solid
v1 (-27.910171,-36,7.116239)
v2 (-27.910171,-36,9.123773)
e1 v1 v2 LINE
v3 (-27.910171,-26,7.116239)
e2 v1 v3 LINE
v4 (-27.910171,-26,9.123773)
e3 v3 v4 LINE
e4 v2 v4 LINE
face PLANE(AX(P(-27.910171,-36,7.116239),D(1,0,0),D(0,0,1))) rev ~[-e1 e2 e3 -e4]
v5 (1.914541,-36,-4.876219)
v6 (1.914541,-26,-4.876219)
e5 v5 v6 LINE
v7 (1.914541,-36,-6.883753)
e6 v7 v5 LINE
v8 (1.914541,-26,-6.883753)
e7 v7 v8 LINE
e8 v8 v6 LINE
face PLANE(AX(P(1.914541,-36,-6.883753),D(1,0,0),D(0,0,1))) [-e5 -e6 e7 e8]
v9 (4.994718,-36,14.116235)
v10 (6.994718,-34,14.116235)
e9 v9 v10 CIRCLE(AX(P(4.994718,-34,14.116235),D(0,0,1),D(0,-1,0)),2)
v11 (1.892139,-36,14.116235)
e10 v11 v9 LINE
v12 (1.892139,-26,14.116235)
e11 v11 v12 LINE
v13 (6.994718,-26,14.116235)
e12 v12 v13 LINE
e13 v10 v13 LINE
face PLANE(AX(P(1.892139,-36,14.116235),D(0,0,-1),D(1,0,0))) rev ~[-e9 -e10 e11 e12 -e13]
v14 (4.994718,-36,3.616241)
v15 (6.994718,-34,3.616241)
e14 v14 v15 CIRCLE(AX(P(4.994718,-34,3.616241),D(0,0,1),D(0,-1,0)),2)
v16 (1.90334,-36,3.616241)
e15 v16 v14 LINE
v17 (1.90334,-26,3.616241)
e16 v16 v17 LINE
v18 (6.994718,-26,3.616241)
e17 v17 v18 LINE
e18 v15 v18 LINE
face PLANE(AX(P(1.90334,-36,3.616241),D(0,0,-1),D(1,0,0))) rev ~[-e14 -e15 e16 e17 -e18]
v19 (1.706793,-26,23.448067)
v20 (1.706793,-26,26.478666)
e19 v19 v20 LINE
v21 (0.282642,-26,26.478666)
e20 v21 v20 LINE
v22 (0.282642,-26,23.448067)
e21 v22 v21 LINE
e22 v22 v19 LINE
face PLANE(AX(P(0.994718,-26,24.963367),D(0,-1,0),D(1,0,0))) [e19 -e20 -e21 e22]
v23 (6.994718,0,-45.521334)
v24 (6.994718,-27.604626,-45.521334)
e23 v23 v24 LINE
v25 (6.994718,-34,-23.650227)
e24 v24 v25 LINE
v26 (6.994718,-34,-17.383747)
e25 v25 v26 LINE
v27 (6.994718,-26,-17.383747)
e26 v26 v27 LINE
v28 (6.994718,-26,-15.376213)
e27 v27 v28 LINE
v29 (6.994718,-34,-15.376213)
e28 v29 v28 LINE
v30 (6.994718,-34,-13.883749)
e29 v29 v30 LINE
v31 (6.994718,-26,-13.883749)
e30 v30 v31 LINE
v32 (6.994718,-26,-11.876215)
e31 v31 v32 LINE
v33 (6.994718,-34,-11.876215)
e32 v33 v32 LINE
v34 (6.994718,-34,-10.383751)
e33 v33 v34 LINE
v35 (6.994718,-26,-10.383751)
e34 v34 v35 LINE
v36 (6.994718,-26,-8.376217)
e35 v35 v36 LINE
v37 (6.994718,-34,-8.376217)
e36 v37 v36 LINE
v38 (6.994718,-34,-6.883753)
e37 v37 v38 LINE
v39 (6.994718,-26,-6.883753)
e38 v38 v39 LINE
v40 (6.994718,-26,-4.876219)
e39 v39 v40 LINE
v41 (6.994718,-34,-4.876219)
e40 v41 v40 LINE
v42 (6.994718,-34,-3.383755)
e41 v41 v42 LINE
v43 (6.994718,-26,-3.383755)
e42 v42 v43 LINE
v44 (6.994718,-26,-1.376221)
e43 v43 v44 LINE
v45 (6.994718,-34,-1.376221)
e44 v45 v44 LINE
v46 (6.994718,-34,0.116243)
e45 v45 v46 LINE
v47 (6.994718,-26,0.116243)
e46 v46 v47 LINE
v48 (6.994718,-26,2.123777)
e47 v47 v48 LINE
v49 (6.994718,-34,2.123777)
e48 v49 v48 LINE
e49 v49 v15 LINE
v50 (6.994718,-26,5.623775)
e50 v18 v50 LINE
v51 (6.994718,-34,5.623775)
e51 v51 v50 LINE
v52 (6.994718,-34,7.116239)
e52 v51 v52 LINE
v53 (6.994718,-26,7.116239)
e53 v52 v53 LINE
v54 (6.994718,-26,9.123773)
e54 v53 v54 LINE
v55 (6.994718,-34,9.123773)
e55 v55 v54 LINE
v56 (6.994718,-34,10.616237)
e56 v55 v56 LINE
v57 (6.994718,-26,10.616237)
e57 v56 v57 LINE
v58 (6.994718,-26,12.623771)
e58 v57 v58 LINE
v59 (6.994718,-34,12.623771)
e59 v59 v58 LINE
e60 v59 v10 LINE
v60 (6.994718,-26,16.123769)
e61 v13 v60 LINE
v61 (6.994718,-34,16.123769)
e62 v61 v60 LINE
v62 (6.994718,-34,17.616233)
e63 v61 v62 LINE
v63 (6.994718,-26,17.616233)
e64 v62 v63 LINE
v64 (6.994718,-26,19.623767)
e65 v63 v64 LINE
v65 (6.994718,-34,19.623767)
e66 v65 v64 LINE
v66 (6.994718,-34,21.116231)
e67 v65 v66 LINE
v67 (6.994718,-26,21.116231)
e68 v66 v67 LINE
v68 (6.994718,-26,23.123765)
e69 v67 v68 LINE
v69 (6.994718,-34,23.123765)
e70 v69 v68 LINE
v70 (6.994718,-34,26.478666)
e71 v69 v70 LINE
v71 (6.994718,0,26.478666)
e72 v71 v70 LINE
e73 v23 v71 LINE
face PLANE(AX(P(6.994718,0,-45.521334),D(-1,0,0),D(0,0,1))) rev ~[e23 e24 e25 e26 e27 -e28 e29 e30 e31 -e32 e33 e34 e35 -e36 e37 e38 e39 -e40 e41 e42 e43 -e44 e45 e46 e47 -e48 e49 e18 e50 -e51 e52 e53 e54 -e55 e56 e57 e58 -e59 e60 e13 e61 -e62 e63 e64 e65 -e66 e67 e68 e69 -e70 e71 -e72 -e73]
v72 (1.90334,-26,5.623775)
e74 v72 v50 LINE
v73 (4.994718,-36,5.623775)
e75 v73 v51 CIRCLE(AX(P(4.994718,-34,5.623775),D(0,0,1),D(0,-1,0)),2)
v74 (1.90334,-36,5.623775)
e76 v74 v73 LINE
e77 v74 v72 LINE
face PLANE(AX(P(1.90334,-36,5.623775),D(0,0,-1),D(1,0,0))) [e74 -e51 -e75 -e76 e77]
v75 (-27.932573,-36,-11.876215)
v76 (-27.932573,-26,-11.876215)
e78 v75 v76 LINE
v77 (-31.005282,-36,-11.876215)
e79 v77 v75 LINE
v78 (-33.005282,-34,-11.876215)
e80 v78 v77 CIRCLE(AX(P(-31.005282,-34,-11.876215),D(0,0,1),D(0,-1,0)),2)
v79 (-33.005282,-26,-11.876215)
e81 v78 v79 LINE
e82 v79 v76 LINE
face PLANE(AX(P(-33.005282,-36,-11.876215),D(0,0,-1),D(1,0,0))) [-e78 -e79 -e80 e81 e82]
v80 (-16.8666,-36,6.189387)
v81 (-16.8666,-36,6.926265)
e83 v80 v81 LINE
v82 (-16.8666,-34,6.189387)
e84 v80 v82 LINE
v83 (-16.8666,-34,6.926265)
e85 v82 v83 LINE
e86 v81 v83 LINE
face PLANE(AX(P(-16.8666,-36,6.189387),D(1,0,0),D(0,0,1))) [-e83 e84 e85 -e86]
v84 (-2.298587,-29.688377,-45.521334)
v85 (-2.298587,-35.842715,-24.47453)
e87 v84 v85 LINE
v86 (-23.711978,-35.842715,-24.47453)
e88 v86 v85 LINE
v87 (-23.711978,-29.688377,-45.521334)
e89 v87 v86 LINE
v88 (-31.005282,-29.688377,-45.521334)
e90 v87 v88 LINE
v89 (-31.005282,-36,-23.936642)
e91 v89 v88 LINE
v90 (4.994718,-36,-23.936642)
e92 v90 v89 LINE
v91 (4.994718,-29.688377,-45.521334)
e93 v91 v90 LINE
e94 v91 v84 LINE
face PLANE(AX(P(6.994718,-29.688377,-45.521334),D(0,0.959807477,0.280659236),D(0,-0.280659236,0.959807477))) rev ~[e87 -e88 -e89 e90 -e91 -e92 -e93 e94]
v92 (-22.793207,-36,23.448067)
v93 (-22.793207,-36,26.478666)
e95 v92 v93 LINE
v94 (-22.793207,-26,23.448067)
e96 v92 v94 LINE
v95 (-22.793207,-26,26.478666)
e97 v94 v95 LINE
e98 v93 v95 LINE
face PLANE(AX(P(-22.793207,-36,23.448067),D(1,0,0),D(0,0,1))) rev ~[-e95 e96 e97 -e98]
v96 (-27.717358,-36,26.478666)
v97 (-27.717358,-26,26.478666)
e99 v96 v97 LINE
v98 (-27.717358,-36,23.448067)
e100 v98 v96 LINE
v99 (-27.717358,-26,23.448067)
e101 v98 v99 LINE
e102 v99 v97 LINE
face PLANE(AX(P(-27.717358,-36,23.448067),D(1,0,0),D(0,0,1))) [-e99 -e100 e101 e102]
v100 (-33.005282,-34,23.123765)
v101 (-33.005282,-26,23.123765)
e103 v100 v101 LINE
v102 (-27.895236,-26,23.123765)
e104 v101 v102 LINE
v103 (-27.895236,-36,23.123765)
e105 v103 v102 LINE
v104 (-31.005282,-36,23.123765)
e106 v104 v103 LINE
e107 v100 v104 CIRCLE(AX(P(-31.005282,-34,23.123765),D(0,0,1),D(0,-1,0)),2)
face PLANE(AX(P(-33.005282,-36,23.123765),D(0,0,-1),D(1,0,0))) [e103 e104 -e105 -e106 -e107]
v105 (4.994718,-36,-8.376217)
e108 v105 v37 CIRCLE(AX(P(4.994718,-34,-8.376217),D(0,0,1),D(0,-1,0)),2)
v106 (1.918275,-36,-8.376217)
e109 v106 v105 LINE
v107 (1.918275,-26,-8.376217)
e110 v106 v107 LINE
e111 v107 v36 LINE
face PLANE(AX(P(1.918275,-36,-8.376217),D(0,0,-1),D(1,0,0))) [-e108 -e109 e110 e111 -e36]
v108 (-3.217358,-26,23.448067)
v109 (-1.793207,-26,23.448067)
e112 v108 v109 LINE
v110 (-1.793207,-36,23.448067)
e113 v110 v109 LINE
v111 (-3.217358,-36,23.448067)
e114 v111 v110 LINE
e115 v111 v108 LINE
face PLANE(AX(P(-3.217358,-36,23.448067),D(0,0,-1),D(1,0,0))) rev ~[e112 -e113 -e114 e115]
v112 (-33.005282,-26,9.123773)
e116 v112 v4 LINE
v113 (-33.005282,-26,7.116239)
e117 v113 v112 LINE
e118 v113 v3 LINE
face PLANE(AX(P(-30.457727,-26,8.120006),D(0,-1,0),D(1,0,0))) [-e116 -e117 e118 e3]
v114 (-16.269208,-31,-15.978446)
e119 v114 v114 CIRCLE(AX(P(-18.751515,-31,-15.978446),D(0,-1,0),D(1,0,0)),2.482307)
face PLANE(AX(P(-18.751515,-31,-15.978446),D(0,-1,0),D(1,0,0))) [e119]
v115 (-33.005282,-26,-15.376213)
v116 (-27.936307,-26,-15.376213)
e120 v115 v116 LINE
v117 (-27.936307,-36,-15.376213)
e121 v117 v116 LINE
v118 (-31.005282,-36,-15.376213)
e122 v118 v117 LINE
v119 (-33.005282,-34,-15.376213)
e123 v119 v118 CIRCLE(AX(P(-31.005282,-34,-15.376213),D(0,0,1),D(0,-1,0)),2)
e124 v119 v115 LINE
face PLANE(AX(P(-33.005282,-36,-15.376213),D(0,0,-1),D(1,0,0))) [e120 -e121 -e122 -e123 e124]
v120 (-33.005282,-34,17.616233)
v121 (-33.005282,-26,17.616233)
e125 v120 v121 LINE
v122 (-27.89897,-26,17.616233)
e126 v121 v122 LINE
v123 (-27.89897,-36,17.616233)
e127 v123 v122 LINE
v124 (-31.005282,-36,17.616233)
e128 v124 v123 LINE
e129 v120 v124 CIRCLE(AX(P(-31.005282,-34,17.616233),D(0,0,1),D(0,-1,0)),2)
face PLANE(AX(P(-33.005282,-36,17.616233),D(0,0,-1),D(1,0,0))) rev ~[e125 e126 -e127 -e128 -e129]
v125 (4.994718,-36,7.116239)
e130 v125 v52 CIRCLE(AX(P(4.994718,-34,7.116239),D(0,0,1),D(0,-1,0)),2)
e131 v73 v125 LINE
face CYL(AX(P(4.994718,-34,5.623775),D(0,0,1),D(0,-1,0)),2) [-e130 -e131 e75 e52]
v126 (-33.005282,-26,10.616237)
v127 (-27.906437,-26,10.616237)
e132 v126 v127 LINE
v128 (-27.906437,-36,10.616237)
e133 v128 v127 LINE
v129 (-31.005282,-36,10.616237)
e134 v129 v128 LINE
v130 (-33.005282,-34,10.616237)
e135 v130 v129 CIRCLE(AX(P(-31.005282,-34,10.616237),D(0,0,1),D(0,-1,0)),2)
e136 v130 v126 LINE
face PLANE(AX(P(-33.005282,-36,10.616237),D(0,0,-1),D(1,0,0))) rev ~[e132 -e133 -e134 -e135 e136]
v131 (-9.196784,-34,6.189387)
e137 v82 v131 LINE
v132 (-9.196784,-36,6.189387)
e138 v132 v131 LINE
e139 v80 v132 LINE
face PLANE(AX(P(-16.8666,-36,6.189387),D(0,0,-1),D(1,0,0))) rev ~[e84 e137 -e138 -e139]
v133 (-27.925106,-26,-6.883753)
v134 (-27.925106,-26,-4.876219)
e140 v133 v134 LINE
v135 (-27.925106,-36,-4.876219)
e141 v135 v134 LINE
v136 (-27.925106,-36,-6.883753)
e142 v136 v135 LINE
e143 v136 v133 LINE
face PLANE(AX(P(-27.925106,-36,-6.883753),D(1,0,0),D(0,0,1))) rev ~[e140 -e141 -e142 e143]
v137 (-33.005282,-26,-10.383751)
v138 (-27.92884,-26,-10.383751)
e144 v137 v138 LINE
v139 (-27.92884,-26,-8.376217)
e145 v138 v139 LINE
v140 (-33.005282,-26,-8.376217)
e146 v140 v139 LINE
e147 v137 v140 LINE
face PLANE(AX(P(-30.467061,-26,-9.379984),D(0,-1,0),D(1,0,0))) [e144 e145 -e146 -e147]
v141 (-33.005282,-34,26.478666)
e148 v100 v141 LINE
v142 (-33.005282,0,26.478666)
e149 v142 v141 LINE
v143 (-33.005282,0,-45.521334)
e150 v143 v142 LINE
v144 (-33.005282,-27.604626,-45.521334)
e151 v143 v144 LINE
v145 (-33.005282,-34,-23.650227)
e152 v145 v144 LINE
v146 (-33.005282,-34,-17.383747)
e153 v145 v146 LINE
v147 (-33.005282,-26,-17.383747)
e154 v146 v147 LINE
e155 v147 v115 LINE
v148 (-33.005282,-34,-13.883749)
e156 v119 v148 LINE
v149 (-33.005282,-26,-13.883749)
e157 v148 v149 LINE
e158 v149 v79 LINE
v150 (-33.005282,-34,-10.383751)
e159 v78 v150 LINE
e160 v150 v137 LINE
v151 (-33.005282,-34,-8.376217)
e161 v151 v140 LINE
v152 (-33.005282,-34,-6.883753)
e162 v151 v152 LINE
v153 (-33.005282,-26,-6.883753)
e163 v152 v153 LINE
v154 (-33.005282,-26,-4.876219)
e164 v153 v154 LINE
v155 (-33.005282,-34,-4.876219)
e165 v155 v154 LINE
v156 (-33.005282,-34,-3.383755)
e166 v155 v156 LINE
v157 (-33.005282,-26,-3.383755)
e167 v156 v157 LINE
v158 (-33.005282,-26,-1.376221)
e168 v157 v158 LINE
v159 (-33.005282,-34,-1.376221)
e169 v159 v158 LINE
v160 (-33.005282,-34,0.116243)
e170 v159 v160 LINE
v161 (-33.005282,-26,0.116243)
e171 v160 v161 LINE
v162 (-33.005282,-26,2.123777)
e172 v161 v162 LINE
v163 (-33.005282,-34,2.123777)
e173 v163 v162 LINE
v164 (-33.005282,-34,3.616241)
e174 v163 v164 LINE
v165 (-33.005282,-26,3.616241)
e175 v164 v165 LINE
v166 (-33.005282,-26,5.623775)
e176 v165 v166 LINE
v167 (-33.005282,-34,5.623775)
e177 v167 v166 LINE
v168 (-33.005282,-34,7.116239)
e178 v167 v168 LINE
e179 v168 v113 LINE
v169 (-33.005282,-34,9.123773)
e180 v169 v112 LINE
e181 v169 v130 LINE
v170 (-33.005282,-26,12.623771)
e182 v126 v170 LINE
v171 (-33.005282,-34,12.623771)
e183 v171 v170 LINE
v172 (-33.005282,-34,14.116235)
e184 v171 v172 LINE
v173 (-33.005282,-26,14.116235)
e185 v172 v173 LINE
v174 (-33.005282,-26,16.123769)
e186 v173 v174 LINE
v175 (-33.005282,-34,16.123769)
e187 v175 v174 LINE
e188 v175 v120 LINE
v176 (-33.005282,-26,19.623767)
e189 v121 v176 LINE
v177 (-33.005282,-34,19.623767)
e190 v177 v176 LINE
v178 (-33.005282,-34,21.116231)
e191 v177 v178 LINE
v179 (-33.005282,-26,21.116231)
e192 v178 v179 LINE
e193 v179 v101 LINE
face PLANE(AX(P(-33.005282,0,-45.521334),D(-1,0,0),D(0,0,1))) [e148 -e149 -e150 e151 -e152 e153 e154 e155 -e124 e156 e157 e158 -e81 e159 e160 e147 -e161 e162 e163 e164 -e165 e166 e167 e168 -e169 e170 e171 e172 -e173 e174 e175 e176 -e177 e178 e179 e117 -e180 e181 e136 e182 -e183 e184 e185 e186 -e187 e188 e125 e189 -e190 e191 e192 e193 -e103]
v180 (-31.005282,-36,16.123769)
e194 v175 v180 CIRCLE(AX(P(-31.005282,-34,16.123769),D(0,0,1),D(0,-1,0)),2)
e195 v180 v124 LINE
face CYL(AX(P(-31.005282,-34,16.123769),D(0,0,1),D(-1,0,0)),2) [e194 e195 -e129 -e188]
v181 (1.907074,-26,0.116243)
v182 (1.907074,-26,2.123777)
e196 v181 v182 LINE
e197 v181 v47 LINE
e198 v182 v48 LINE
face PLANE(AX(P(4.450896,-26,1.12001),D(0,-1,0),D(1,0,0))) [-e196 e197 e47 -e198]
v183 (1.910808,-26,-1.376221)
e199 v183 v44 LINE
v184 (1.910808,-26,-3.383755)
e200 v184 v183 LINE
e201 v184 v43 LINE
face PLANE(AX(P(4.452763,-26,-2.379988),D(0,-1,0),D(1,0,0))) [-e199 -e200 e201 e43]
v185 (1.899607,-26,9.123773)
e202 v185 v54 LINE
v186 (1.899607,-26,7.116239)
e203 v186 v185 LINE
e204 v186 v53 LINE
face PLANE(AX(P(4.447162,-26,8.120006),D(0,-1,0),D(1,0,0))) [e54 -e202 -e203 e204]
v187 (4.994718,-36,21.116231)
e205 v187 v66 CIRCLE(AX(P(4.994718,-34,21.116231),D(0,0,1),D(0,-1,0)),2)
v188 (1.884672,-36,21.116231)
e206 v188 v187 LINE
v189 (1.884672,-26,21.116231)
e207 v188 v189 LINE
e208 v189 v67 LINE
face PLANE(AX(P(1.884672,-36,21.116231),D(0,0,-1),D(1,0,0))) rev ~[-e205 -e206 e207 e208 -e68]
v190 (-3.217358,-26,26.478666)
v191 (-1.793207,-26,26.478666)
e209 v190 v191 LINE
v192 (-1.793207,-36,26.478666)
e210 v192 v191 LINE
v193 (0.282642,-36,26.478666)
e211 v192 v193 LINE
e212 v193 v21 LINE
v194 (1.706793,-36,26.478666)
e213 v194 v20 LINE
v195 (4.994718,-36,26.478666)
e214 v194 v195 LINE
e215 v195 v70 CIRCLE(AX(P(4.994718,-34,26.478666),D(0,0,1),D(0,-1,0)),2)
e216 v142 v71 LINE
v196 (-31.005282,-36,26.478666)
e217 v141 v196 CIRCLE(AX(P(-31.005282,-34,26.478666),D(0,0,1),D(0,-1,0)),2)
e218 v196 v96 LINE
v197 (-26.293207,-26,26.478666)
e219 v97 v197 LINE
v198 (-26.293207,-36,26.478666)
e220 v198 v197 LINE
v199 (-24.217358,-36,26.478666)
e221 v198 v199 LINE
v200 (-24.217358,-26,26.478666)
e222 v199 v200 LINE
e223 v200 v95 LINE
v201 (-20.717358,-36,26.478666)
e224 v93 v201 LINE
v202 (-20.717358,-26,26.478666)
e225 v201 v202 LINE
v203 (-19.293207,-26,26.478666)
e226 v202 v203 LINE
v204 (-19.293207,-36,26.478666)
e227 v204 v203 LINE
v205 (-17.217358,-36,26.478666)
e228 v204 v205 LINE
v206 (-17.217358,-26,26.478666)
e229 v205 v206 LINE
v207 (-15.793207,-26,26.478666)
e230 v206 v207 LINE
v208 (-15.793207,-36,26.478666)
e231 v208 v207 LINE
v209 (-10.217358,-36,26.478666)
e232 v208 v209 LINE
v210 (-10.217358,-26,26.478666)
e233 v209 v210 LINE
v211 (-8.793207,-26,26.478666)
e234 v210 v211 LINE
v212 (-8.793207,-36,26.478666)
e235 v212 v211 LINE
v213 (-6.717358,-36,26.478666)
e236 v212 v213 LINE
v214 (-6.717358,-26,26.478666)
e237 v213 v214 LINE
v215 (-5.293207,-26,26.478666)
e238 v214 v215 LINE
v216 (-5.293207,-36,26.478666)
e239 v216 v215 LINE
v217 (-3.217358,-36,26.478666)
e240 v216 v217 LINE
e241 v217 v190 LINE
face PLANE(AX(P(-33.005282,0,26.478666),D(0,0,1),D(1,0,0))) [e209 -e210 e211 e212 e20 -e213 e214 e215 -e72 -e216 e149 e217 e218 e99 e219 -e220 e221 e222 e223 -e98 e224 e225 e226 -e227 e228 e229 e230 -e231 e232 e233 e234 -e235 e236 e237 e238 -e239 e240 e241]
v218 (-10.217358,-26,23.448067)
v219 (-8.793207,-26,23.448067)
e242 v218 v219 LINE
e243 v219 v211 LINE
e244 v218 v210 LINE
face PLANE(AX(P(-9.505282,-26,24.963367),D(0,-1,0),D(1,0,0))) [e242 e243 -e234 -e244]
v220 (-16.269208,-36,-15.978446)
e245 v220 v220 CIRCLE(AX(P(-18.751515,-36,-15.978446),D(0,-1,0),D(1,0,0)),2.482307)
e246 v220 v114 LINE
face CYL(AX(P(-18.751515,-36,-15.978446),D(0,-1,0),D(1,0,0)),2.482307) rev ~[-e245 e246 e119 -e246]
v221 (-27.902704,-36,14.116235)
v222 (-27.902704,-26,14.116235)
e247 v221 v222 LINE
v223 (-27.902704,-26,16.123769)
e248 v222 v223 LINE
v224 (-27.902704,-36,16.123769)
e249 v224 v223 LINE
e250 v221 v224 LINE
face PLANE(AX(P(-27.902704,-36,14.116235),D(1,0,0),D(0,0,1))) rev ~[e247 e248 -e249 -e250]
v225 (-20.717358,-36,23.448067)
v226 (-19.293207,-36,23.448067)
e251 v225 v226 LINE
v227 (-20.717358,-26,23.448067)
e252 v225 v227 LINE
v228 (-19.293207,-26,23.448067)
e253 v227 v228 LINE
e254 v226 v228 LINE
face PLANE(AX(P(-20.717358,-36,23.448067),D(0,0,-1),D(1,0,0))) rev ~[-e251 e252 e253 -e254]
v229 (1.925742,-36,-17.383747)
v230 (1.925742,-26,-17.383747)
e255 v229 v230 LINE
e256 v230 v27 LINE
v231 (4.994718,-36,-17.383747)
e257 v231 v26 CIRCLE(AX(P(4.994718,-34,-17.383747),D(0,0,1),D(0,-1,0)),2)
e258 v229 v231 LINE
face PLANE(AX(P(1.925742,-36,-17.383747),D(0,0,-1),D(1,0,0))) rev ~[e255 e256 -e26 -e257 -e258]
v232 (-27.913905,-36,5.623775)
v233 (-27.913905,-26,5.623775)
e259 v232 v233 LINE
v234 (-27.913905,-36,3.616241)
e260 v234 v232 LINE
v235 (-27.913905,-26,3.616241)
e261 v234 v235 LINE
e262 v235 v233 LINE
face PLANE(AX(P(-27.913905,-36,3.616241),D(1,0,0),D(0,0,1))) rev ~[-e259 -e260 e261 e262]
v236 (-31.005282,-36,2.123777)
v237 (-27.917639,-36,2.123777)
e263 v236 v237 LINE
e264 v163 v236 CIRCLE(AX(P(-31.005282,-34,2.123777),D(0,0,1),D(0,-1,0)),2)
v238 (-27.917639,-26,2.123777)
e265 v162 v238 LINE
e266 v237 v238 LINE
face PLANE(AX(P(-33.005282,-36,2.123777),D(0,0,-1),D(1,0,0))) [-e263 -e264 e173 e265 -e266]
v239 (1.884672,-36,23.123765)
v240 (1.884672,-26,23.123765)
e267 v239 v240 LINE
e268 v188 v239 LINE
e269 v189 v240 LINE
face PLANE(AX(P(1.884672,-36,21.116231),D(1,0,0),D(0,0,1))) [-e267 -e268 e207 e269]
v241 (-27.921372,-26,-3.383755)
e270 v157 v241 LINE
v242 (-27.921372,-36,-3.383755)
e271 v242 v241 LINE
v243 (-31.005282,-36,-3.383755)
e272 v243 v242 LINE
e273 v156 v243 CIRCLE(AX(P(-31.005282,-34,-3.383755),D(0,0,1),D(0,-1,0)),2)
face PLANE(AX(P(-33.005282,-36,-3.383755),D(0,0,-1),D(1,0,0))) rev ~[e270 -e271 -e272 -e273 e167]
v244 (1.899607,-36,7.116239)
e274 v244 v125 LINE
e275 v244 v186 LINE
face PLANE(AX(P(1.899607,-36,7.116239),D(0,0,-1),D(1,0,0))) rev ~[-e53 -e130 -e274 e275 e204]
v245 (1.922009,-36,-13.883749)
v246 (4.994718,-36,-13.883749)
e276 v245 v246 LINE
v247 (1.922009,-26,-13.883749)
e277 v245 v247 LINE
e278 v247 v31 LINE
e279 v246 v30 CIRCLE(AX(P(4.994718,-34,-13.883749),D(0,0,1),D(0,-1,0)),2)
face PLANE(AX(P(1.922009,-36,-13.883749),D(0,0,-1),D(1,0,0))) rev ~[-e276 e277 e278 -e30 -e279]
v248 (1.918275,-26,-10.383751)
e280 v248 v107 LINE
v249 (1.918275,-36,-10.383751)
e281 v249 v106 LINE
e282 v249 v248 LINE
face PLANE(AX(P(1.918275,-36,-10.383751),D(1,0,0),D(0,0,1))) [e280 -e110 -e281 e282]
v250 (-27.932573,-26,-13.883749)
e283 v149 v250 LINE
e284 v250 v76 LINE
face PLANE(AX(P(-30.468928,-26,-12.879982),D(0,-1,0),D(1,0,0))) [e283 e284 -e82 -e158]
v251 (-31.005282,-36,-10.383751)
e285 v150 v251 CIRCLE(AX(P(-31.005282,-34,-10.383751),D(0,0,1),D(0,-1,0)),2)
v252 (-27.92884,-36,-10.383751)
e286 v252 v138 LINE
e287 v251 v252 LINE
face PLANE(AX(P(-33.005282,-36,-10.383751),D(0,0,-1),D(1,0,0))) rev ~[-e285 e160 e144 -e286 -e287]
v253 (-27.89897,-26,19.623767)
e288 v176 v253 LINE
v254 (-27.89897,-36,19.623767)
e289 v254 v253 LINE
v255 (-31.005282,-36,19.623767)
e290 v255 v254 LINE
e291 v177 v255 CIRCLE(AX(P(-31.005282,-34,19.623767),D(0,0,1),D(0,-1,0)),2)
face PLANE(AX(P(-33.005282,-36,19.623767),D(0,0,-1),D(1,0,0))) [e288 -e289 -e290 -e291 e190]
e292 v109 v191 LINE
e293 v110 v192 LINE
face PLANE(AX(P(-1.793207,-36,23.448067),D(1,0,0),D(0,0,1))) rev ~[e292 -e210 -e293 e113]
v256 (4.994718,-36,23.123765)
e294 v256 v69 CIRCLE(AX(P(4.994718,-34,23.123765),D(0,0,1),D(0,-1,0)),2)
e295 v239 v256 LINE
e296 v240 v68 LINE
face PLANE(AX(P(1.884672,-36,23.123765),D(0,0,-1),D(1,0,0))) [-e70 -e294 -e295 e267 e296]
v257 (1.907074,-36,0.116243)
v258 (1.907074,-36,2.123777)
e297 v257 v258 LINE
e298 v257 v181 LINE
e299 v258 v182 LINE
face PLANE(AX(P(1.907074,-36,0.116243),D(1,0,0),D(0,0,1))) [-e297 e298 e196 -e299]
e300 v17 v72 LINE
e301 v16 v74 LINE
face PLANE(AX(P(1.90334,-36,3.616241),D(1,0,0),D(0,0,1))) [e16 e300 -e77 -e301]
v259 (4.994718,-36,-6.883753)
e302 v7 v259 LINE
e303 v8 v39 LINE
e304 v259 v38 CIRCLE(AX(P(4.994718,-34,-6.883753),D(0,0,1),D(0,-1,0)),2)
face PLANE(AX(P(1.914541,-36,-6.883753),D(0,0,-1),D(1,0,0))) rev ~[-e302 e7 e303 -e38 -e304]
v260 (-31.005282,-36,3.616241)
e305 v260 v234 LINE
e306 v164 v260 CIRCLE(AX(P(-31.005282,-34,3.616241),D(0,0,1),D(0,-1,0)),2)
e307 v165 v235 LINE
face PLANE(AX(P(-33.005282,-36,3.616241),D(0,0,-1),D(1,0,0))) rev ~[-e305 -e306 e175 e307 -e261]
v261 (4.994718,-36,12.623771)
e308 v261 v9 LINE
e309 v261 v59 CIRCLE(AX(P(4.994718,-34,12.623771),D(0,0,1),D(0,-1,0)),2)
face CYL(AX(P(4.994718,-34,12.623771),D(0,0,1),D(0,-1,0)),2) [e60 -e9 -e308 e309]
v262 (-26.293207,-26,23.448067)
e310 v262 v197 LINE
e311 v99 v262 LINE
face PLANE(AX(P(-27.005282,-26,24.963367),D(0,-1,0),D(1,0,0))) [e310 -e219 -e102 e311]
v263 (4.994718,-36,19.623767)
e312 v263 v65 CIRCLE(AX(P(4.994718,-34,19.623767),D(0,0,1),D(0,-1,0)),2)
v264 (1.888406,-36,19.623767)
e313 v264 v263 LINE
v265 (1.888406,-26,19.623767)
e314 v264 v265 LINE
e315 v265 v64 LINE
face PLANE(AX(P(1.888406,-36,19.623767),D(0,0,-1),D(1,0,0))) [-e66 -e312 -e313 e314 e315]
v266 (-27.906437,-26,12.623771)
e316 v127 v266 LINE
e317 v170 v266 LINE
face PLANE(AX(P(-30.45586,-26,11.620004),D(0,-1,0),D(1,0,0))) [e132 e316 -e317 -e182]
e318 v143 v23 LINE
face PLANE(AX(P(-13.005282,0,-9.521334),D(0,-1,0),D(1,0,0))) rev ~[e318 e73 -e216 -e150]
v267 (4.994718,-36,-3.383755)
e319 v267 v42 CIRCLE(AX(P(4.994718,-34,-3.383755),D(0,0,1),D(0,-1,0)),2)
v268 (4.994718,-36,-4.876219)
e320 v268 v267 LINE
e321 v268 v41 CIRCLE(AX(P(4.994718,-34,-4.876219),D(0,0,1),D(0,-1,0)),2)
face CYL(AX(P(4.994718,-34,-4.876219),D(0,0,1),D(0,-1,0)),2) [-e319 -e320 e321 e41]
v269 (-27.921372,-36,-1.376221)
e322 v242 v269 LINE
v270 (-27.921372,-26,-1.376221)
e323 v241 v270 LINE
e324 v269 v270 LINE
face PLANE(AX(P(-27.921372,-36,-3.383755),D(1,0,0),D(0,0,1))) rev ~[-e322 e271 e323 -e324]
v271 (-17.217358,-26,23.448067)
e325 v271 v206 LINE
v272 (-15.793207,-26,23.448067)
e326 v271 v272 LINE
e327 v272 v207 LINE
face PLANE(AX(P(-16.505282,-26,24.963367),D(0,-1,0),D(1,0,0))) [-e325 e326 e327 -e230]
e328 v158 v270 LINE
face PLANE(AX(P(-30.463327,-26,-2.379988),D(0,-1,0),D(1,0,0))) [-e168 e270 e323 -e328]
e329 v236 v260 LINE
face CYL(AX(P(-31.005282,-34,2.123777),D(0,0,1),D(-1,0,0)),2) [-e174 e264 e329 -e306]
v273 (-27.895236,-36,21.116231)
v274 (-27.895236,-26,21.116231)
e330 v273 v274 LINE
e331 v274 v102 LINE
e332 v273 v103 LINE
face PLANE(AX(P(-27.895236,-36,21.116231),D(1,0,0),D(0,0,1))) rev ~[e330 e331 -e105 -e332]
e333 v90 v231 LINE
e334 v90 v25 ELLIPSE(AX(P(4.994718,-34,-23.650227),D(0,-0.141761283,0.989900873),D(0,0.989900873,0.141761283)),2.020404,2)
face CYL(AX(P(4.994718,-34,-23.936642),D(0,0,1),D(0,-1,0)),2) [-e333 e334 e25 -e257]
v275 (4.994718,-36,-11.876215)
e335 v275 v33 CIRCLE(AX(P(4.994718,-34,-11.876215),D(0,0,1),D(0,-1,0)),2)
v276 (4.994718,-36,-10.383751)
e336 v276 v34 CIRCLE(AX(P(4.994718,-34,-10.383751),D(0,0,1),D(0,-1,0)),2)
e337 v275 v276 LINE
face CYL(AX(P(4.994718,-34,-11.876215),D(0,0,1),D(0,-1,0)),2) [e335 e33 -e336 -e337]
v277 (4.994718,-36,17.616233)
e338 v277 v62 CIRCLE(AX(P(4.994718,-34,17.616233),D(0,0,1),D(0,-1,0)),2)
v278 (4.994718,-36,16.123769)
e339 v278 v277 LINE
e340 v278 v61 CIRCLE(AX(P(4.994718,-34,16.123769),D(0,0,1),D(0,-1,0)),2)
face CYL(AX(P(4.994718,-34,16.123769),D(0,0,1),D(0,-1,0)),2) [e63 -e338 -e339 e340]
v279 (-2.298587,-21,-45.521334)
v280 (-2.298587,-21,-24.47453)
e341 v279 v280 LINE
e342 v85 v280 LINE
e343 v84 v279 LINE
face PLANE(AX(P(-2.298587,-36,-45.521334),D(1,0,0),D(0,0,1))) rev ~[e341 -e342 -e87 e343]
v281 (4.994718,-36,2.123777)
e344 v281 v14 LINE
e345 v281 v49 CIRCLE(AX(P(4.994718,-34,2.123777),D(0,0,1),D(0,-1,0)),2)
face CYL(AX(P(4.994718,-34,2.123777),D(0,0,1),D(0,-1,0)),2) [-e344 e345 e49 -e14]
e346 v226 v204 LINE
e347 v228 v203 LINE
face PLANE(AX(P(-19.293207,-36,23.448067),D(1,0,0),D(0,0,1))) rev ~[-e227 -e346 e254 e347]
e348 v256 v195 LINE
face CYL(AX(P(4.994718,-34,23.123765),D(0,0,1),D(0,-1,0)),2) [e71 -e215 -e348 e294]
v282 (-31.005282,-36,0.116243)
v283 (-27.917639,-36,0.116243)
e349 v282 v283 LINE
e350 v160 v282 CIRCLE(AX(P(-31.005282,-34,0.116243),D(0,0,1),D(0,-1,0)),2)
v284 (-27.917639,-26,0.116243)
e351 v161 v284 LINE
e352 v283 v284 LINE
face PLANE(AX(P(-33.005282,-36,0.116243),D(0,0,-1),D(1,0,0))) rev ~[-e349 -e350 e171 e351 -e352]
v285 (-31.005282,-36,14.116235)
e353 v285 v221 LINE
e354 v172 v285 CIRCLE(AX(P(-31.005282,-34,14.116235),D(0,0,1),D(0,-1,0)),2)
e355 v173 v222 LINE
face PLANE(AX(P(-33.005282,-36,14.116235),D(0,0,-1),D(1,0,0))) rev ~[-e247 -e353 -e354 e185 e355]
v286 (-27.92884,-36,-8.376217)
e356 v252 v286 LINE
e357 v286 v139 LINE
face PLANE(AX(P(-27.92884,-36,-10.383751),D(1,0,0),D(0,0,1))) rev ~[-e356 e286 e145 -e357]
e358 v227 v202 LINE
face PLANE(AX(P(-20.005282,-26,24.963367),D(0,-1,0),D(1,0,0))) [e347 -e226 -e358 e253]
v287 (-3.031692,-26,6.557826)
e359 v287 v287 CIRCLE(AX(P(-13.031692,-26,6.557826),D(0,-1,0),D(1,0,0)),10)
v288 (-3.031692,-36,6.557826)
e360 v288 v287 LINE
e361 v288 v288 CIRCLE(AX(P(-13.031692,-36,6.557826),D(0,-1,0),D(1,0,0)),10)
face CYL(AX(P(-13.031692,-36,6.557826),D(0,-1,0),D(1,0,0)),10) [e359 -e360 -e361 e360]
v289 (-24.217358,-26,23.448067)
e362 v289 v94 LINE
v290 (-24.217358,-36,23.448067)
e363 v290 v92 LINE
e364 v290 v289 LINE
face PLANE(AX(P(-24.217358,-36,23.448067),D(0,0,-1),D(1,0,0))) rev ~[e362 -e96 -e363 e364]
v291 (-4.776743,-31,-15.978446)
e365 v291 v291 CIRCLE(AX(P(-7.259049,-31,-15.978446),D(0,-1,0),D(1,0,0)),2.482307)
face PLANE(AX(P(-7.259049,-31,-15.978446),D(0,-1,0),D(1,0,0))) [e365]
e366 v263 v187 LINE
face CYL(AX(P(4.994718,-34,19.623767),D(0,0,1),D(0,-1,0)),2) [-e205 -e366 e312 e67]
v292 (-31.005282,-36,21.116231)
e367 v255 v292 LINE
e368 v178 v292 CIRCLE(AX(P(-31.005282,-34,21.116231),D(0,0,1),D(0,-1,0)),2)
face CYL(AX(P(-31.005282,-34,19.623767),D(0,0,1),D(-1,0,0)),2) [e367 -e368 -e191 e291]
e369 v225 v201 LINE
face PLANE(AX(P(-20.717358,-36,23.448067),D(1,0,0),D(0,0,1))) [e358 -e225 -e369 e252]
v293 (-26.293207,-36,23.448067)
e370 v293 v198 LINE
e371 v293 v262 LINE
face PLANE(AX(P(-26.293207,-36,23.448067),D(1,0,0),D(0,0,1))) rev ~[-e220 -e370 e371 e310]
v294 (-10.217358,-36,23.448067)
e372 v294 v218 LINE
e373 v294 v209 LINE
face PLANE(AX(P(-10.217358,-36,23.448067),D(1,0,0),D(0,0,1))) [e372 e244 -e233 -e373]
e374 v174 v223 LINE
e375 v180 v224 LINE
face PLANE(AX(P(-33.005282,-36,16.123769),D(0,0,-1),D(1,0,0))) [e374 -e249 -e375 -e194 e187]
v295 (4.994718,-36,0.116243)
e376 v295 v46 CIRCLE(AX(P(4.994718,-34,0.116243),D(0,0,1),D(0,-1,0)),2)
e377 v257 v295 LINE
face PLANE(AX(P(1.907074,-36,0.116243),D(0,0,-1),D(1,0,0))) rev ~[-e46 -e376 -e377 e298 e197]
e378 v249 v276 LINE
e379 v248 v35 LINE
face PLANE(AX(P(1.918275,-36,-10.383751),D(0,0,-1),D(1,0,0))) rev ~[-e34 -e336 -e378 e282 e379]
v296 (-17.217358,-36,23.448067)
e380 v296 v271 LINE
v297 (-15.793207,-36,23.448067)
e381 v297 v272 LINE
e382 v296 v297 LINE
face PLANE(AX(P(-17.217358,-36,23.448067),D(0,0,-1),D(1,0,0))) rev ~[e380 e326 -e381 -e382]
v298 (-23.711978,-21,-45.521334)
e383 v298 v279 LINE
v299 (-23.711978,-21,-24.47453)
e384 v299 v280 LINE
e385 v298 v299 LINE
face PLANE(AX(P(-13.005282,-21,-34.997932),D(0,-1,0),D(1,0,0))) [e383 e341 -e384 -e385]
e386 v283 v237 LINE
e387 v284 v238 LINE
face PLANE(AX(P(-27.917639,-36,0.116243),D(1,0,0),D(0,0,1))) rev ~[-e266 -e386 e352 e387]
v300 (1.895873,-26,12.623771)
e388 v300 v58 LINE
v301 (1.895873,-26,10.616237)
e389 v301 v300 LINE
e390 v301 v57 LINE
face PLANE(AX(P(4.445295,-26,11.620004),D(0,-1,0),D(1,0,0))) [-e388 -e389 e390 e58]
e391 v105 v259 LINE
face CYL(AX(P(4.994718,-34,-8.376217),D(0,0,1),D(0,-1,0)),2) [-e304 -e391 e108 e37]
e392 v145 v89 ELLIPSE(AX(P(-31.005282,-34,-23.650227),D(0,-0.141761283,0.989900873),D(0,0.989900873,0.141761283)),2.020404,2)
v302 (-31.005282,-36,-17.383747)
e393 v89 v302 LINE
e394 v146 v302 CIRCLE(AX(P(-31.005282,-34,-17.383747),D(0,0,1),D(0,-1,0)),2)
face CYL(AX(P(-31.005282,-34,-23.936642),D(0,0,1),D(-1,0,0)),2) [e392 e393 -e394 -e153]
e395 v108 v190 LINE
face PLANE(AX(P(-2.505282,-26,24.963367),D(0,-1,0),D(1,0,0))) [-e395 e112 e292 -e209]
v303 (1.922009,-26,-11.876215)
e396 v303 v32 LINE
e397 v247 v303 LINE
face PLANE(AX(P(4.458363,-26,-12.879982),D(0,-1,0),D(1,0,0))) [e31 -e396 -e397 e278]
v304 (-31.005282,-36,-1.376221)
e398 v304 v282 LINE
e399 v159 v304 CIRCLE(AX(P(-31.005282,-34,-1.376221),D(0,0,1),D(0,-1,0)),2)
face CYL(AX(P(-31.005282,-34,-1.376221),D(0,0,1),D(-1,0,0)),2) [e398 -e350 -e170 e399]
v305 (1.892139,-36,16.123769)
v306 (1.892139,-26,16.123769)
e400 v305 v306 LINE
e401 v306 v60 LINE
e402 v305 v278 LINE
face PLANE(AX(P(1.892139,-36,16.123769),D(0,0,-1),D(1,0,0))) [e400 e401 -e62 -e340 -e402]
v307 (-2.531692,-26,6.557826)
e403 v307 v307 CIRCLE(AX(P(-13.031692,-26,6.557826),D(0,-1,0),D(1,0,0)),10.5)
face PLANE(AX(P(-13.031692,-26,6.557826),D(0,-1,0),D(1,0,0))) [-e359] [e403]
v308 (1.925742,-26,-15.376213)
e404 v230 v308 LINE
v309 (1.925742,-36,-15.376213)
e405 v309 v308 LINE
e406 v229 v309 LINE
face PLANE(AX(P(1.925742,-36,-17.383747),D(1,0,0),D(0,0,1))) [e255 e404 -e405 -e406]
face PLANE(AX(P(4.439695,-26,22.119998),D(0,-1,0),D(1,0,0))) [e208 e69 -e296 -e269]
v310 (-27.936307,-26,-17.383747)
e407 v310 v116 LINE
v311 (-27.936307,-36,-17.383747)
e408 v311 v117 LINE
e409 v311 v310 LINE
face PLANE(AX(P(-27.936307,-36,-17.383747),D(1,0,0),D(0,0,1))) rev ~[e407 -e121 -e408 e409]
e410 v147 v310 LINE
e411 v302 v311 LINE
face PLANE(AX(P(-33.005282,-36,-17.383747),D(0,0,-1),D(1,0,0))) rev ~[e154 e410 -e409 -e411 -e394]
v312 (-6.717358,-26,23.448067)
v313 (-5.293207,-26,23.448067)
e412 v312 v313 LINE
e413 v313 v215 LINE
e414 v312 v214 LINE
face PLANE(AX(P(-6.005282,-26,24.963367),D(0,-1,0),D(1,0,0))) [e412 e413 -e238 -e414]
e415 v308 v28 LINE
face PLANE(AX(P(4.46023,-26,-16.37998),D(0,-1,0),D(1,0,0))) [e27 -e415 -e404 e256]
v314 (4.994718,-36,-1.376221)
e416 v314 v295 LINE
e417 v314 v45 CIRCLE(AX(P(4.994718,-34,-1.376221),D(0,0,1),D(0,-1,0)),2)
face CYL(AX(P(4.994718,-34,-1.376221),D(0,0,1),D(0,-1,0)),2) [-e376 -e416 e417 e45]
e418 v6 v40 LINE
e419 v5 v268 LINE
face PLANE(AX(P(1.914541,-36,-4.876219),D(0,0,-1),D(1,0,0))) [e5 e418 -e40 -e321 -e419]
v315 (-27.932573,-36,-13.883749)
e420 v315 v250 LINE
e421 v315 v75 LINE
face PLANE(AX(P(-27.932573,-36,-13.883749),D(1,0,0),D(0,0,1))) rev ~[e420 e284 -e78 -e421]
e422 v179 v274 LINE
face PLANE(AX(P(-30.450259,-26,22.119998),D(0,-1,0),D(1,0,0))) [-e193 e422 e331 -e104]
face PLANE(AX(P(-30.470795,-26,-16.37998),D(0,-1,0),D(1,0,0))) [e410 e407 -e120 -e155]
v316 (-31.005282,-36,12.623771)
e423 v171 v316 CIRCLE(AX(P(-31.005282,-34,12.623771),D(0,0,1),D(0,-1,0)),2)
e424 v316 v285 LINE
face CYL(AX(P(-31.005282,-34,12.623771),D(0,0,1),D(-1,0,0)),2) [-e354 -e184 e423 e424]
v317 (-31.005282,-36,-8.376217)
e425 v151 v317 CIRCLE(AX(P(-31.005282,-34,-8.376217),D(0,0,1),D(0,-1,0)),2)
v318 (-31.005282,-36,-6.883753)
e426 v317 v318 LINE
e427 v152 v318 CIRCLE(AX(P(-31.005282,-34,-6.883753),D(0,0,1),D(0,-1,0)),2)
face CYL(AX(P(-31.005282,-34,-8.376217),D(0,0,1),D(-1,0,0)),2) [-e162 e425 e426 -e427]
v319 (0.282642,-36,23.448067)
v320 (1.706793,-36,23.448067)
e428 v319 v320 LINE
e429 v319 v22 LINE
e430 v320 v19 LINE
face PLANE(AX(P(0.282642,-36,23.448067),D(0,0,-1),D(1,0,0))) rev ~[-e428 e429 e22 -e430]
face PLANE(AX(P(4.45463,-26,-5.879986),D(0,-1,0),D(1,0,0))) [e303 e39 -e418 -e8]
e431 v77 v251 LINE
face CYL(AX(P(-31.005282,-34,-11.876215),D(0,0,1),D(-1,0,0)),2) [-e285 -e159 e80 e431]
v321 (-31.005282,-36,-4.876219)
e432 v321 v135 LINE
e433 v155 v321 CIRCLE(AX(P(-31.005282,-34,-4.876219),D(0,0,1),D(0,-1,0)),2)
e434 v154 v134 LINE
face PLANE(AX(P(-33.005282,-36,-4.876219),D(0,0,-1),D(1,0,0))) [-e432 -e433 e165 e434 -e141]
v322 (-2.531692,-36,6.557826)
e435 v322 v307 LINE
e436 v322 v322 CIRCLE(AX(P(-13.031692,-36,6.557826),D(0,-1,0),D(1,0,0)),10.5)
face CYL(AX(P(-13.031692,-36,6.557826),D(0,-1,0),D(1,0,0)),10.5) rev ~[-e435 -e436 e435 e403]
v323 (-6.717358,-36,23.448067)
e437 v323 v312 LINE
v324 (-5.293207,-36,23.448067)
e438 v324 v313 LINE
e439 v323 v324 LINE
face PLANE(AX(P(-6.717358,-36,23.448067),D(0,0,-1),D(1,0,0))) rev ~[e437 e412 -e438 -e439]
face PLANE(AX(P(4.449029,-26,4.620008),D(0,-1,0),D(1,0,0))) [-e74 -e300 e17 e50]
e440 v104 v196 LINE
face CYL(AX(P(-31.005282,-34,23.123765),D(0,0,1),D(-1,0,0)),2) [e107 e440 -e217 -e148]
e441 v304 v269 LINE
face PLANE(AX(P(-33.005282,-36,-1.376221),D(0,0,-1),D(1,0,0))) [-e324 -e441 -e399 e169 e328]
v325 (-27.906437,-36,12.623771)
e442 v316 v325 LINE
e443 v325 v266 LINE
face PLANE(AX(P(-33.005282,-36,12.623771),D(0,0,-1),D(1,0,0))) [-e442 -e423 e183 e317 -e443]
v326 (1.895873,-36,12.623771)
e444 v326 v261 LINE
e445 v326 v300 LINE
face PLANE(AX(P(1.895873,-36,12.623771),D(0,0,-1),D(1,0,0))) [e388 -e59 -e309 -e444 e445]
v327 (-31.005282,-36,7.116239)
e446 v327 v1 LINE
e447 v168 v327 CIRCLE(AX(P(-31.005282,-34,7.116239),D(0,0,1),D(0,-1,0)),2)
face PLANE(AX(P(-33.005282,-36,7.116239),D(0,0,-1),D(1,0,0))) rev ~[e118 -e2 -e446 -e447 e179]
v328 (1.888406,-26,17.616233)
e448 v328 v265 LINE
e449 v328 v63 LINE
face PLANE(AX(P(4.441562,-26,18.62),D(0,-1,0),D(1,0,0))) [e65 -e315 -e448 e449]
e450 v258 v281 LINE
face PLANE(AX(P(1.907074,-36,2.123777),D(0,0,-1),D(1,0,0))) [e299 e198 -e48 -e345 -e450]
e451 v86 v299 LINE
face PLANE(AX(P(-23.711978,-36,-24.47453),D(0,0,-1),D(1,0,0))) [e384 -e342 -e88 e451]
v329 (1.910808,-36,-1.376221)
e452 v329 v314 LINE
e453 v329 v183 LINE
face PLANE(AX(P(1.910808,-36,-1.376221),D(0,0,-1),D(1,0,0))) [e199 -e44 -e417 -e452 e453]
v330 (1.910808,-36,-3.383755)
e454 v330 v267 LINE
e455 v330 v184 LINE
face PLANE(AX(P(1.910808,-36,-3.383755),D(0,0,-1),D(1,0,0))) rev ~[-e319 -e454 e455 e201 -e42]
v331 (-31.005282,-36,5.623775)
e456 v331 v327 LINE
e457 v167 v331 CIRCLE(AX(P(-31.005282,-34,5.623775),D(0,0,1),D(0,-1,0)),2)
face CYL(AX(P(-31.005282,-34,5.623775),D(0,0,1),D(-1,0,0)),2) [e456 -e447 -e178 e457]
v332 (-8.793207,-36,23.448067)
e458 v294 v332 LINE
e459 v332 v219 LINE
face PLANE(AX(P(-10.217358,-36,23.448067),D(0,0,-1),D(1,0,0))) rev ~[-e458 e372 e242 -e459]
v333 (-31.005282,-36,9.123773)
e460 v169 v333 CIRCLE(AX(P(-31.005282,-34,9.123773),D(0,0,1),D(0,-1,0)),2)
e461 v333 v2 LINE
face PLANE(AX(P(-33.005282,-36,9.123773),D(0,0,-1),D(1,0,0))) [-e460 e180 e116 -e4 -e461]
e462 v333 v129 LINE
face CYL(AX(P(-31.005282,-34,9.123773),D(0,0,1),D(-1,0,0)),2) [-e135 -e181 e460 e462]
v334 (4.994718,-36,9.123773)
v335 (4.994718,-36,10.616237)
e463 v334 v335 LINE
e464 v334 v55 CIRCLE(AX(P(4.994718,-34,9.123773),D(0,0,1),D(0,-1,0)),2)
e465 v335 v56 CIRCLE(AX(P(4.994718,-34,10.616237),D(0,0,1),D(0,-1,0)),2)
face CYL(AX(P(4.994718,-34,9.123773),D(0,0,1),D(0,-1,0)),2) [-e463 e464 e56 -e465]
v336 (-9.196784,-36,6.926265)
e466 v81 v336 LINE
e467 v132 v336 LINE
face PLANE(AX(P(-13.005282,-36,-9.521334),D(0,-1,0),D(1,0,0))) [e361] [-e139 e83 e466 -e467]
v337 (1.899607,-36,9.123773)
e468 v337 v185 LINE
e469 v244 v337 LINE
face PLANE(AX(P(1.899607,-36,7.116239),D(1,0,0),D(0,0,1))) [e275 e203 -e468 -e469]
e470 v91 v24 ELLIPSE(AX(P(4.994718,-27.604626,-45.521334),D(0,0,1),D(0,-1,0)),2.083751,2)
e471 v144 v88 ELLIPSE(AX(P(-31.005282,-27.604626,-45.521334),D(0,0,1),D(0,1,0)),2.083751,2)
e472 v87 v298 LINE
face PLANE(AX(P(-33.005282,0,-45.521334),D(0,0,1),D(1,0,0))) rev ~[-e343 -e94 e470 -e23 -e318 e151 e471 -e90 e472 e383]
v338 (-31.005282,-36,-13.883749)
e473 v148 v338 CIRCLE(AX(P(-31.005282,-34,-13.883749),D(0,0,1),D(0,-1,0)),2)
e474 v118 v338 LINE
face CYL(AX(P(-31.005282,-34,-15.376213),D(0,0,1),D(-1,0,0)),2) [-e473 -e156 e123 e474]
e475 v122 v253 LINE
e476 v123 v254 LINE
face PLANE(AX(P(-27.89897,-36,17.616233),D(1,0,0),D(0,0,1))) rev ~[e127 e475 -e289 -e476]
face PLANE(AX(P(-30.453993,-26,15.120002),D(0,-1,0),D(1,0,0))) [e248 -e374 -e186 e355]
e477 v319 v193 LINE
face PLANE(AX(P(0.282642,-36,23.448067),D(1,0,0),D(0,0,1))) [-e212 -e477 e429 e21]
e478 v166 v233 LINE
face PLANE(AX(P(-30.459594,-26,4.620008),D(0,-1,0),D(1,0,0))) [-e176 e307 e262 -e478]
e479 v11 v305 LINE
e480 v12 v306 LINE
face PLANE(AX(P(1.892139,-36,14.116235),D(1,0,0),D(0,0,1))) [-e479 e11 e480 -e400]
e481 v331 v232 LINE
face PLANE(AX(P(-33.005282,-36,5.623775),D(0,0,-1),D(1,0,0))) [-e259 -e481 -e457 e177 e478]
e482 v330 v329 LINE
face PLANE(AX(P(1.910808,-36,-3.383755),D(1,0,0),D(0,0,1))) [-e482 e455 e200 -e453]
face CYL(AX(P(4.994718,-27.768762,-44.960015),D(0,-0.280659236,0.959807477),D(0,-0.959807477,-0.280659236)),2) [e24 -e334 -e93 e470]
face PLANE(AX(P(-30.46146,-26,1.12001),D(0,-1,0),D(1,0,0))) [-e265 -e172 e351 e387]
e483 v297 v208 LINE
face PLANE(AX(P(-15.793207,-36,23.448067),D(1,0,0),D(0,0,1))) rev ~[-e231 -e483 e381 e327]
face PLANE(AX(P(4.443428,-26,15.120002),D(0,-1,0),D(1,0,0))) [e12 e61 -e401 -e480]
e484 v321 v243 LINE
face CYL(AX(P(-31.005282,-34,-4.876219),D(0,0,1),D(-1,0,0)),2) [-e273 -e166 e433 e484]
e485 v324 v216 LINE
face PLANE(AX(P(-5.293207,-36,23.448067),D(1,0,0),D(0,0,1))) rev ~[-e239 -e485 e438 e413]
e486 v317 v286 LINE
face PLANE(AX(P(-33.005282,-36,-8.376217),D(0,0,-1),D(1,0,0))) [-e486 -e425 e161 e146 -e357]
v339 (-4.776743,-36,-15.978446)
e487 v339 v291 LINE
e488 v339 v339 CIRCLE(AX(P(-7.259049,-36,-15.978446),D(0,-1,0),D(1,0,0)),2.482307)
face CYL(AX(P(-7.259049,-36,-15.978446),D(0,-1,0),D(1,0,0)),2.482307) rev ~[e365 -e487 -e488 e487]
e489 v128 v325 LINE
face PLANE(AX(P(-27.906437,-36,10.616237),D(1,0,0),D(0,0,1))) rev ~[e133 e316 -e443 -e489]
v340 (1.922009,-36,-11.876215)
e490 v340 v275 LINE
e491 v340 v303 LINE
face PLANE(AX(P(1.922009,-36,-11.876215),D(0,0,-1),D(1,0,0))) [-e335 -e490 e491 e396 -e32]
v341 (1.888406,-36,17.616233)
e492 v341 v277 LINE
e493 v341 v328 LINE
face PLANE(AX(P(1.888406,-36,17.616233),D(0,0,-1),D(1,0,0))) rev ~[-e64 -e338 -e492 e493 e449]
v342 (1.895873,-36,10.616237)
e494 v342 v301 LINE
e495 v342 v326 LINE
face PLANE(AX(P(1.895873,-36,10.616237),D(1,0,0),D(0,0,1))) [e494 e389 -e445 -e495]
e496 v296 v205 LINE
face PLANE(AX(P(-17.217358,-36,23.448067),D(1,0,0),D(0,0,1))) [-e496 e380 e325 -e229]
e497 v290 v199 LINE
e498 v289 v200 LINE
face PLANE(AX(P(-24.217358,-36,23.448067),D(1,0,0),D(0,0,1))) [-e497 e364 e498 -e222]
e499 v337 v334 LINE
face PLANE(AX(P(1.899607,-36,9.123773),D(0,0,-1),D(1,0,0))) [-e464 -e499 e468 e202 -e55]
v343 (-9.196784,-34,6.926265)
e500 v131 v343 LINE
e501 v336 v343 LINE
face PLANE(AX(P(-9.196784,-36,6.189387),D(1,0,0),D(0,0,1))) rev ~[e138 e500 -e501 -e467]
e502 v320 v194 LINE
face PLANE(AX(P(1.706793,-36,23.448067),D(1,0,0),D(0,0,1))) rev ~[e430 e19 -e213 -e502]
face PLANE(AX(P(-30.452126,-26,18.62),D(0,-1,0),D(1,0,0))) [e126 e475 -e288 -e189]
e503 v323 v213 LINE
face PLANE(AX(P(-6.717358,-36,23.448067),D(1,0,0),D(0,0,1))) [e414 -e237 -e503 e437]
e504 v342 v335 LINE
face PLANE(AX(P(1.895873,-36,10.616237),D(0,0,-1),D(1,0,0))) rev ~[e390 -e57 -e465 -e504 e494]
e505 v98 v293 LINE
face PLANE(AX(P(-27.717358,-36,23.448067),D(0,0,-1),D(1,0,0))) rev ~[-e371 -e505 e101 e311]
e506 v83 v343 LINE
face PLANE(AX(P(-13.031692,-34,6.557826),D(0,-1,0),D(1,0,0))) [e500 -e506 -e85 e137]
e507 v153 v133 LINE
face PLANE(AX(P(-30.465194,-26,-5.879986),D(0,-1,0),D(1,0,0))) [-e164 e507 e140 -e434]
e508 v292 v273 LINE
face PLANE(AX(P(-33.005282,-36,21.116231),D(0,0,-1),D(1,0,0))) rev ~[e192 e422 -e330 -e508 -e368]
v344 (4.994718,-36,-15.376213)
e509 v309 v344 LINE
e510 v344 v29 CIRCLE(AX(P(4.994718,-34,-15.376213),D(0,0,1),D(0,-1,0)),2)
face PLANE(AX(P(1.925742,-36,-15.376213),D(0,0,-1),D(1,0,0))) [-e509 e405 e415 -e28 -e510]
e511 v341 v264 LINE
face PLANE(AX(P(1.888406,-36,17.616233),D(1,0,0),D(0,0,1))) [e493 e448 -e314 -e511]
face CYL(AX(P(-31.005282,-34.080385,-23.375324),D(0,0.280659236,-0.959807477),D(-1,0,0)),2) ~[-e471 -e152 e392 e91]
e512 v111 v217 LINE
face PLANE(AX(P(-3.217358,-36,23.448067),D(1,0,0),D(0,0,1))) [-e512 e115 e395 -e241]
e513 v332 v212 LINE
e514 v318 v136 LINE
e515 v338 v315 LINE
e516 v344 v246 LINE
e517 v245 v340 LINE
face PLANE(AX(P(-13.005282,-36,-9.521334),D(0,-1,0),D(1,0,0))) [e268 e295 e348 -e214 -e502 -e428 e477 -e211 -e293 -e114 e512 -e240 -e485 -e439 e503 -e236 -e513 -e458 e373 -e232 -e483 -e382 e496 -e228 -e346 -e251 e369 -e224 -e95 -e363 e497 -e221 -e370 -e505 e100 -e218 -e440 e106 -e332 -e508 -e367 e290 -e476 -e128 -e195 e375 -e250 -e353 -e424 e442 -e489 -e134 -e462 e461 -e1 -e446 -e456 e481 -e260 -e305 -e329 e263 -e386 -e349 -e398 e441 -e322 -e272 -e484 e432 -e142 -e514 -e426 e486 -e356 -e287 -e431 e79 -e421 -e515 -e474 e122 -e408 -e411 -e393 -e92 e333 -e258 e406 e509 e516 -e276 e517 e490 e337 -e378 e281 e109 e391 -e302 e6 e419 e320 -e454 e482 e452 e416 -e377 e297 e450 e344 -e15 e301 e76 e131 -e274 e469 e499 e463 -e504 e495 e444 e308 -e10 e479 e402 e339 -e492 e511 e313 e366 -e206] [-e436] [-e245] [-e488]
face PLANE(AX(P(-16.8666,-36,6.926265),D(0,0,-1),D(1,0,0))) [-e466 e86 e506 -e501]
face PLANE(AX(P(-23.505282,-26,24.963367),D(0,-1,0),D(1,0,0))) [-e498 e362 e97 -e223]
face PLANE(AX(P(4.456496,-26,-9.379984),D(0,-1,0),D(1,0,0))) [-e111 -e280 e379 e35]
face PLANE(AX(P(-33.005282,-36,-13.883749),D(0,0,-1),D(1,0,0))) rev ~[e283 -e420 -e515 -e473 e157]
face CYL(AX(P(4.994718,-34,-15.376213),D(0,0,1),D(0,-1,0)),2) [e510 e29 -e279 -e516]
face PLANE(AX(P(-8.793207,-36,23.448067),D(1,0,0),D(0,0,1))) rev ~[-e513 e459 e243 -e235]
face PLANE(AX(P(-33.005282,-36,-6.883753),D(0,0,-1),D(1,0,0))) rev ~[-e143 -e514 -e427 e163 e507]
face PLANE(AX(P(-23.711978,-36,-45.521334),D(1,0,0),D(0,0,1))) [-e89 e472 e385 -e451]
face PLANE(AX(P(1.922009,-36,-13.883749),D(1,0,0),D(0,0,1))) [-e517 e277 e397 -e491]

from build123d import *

# Parameters (mm, degrees)
F0_W      = 40
F0_H      = 72
F1_DEPTH  = 36
F2_W      = 5.110045895
F2_H      = 2.0075347275
F2_W_2    = 5.1063122059
F2_W_3    = 5.1025785169
F2_W_4    = 5.0988448278
F2_W_5    = 5.0951111388
F2_W_6    = 5.0913774498
F2_W_7    = 5.0876437607
F2_W_8    = 5.0839100717
F2_W_9    = 5.0801763826
F2_W_10   = 5.0764426936
F2_W_11   = 5.0727090045
F2_W_12   = 5.0689753155
F2_W_13   = 1.42415151
F2_H_2    = 3.0305987895
F2_R      = 10.5
F2_R_2    = 10
F3_DEPTH  = 10
F4_W      = 7.6698157936
F4_H      = 0.7368782535
F5_DEPTH  = 2
F6_W      = 21.4133905619
F6_H      = 21.0468042642
F7_DEPTH  = 15
F9_DEPTH  = 50
F10_R     = 2.4823069634
F11_DEPTH = 5
F12_R     = 2


with BuildPart() as f1:
    # F0 (on Front) → F1 (new body)
    with BuildSketch(Plane.XZ):
        with Locations((-13.0052822828, -9.5213338137)):
            Rectangle(F0_W, F0_H)
    extrude(amount=F1_DEPTH)

    # F2 (on face) → F3 (cut)
    with BuildSketch(Plane.XZ.offset(36)):
        with Locations((-30.4502593353, 22.1199980006)):
            Rectangle(F2_W, F2_H)
        with Locations((-30.4521261799, 18.6199999921)):
            Rectangle(F2_W_2, F2_H)
        with Locations((-30.4539930244, 15.1200019835)):
            Rectangle(F2_W_3, F2_H)
        with Locations((-30.4558598689, 11.620003975)):
            Rectangle(F2_W_4, F2_H)
        with Locations((-30.4577267134, 8.1200059665)):
            Rectangle(F2_W_5, F2_H)
        with Locations((-30.459593558, 4.620007958)):
            Rectangle(F2_W_6, F2_H)
        with Locations((-30.4614604025, 1.1200099495)):
            Rectangle(F2_W_7, F2_H)
        with Locations((-30.463327247, -2.379988059)):
            Rectangle(F2_W_8, F2_H)
        with Locations((-30.4651940915, -5.8799860675)):
            Rectangle(F2_W_9, F2_H)
        with Locations((-30.467060936, -9.379984076)):
            Rectangle(F2_W_10, F2_H)
        with Locations((-30.4689277806, -12.8799820845)):
            Rectangle(F2_W_11, F2_H)
        with Locations((-30.4707946251, -16.379980093)):
            Rectangle(F2_W_12, F2_H)
        with Locations((4.4602300594, -16.379980093)):
            Rectangle(F2_W_12, F2_H)
        with Locations((4.4583632149, -12.8799820845)):
            Rectangle(F2_W_11, F2_H)
        with Locations((4.4564963704, -9.379984076)):
            Rectangle(F2_W_10, F2_H)
        with Locations((4.4546295259, -5.8799860675)):
            Rectangle(F2_W_9, F2_H)
        with Locations((4.4508958368, 1.1200099495)):
            Rectangle(F2_W_7, F2_H)
        with Locations((4.4490289923, 4.620007958)):
            Rectangle(F2_W_6, F2_H)
        with Locations((4.4471621478, 8.1200059665)):
            Rectangle(F2_W_5, F2_H)
        with Locations((4.4452953032, 11.620003975)):
            Rectangle(F2_W_4, F2_H)
        with Locations((4.4434284587, 15.1200019835)):
            Rectangle(F2_W_3, F2_H)
        with Locations((4.4415616142, 18.6199999921)):
            Rectangle(F2_W_2, F2_H)
        with Locations((4.4396947697, 22.1199980006)):
            Rectangle(F2_W, F2_H)
        with Locations((0.9947177172, 24.9633667916)):
            Rectangle(F2_W_13, F2_H_2)
        with Locations((-2.5052822828, 24.9633667916)):
            Rectangle(F2_W_13, F2_H_2)
        with Locations((-6.0052822828, 24.9633667916)):
            Rectangle(F2_W_13, F2_H_2)
        with Locations((-9.5052822828, 24.9633667916)):
            Rectangle(F2_W_13, F2_H_2)
        with Locations((-16.5052822828, 24.9633667916)):
            Rectangle(F2_W_13, F2_H_2)
        with Locations((-20.0052822828, 24.9633667916)):
            Rectangle(F2_W_13, F2_H_2)
        with Locations((-23.5052822828, 24.9633667916)):
            Rectangle(F2_W_13, F2_H_2)
        with Locations((-27.0052822828, 24.9633667916)):
            Rectangle(F2_W_13, F2_H_2)
        with Locations((4.4527626813, -2.379988059)):
            Rectangle(F2_W_8, F2_H)
        with Locations((-13.0316922441, 6.5578259528)):
            Circle(F2_R)
        with Locations((-13.0316922441, 6.5578259528)):
            Circle(F2_R_2, mode=Mode.SUBTRACT)
    extrude(amount=-F3_DEPTH, mode=Mode.SUBTRACT)

    # F4 (on face) → F5 (cut)
    with BuildSketch(Plane.XZ.offset(36)):
        with Locations((-13.0316922441, 6.5578259528)):
            Rectangle(F4_W, F4_H)
    extrude(amount=-F5_DEPTH, mode=Mode.SUBTRACT)

    # F6 (on face) → F7 (cut)
    with BuildSketch(Plane.XZ.offset(36)):
        with Locations((-13.0052822828, -34.9979316816)):
            Rectangle(F6_W, F6_H)
    extrude(amount=-F7_DEPTH, mode=Mode.SUBTRACT)

    # F8 (on face) → F9 (cut)
    with BuildSketch(Plane.YZ.offset(6.9947177172)):
        Polygon((-29.6883769333, -45.5213338137), (-36, -23.9366423339), (-36, -45.5213338137), align=None)
    extrude(amount=-F9_DEPTH, mode=Mode.SUBTRACT)

    # F10 (on face) → F11 (cut)
    with BuildSketch(Plane.XZ.offset(36)):
        with Locations((-18.7515150756, -15.9784462303)):
            Circle(F10_R)
        with Locations((-7.2590494901, -15.9784462303)):
            Circle(F10_R)
    extrude(amount=-F11_DEPTH, mode=Mode.SUBTRACT)

    # F12
    f12_edges = [f1.edges().sort_by_distance(p)[0] for p in [
        (-33.005282, -36, 24.801216),
        (-33.005282, -36, 20.369999),
        (-33.005282, -36, 16.870001),
        (-33.005282, -36, 13.370003),
        (-33.005282, -36, 9.870005),
        (-33.005282, -36, 6.370007),
        (-33.005282, -36, 2.870009),
        (-33.005282, -36, -0.629989),
        (-33.005282, -36, -4.129987),
        (-33.005282, -36, -7.629985),
        (-33.005282, -36, -11.129983),
        (-33.005282, -36, -14.629981),
        (-33.005282, -36, -20.660195),
        (-33.005282, -32.844188, -34.728988),
        (6.994718, -36, 24.801216),
        (6.994718, -36, 20.369999),
        (6.994718, -36, 16.870001),
        (6.994718, -36, 13.370003),
        (6.994718, -36, 9.870005),
        (6.994718, -36, 6.370007),
        (6.994718, -36, 2.870009),
        (6.994718, -36, -0.629989),
        (6.994718, -36, -4.129987),
        (6.994718, -36, -7.629985),
        (6.994718, -36, -11.129983),
        (6.994718, -36, -14.629981),
        (6.994718, -36, -20.660195),
        (6.994718, -32.844188, -34.728988),
    ]]
    fillet(f12_edges, radius=F12_R)


solid = f1.part
